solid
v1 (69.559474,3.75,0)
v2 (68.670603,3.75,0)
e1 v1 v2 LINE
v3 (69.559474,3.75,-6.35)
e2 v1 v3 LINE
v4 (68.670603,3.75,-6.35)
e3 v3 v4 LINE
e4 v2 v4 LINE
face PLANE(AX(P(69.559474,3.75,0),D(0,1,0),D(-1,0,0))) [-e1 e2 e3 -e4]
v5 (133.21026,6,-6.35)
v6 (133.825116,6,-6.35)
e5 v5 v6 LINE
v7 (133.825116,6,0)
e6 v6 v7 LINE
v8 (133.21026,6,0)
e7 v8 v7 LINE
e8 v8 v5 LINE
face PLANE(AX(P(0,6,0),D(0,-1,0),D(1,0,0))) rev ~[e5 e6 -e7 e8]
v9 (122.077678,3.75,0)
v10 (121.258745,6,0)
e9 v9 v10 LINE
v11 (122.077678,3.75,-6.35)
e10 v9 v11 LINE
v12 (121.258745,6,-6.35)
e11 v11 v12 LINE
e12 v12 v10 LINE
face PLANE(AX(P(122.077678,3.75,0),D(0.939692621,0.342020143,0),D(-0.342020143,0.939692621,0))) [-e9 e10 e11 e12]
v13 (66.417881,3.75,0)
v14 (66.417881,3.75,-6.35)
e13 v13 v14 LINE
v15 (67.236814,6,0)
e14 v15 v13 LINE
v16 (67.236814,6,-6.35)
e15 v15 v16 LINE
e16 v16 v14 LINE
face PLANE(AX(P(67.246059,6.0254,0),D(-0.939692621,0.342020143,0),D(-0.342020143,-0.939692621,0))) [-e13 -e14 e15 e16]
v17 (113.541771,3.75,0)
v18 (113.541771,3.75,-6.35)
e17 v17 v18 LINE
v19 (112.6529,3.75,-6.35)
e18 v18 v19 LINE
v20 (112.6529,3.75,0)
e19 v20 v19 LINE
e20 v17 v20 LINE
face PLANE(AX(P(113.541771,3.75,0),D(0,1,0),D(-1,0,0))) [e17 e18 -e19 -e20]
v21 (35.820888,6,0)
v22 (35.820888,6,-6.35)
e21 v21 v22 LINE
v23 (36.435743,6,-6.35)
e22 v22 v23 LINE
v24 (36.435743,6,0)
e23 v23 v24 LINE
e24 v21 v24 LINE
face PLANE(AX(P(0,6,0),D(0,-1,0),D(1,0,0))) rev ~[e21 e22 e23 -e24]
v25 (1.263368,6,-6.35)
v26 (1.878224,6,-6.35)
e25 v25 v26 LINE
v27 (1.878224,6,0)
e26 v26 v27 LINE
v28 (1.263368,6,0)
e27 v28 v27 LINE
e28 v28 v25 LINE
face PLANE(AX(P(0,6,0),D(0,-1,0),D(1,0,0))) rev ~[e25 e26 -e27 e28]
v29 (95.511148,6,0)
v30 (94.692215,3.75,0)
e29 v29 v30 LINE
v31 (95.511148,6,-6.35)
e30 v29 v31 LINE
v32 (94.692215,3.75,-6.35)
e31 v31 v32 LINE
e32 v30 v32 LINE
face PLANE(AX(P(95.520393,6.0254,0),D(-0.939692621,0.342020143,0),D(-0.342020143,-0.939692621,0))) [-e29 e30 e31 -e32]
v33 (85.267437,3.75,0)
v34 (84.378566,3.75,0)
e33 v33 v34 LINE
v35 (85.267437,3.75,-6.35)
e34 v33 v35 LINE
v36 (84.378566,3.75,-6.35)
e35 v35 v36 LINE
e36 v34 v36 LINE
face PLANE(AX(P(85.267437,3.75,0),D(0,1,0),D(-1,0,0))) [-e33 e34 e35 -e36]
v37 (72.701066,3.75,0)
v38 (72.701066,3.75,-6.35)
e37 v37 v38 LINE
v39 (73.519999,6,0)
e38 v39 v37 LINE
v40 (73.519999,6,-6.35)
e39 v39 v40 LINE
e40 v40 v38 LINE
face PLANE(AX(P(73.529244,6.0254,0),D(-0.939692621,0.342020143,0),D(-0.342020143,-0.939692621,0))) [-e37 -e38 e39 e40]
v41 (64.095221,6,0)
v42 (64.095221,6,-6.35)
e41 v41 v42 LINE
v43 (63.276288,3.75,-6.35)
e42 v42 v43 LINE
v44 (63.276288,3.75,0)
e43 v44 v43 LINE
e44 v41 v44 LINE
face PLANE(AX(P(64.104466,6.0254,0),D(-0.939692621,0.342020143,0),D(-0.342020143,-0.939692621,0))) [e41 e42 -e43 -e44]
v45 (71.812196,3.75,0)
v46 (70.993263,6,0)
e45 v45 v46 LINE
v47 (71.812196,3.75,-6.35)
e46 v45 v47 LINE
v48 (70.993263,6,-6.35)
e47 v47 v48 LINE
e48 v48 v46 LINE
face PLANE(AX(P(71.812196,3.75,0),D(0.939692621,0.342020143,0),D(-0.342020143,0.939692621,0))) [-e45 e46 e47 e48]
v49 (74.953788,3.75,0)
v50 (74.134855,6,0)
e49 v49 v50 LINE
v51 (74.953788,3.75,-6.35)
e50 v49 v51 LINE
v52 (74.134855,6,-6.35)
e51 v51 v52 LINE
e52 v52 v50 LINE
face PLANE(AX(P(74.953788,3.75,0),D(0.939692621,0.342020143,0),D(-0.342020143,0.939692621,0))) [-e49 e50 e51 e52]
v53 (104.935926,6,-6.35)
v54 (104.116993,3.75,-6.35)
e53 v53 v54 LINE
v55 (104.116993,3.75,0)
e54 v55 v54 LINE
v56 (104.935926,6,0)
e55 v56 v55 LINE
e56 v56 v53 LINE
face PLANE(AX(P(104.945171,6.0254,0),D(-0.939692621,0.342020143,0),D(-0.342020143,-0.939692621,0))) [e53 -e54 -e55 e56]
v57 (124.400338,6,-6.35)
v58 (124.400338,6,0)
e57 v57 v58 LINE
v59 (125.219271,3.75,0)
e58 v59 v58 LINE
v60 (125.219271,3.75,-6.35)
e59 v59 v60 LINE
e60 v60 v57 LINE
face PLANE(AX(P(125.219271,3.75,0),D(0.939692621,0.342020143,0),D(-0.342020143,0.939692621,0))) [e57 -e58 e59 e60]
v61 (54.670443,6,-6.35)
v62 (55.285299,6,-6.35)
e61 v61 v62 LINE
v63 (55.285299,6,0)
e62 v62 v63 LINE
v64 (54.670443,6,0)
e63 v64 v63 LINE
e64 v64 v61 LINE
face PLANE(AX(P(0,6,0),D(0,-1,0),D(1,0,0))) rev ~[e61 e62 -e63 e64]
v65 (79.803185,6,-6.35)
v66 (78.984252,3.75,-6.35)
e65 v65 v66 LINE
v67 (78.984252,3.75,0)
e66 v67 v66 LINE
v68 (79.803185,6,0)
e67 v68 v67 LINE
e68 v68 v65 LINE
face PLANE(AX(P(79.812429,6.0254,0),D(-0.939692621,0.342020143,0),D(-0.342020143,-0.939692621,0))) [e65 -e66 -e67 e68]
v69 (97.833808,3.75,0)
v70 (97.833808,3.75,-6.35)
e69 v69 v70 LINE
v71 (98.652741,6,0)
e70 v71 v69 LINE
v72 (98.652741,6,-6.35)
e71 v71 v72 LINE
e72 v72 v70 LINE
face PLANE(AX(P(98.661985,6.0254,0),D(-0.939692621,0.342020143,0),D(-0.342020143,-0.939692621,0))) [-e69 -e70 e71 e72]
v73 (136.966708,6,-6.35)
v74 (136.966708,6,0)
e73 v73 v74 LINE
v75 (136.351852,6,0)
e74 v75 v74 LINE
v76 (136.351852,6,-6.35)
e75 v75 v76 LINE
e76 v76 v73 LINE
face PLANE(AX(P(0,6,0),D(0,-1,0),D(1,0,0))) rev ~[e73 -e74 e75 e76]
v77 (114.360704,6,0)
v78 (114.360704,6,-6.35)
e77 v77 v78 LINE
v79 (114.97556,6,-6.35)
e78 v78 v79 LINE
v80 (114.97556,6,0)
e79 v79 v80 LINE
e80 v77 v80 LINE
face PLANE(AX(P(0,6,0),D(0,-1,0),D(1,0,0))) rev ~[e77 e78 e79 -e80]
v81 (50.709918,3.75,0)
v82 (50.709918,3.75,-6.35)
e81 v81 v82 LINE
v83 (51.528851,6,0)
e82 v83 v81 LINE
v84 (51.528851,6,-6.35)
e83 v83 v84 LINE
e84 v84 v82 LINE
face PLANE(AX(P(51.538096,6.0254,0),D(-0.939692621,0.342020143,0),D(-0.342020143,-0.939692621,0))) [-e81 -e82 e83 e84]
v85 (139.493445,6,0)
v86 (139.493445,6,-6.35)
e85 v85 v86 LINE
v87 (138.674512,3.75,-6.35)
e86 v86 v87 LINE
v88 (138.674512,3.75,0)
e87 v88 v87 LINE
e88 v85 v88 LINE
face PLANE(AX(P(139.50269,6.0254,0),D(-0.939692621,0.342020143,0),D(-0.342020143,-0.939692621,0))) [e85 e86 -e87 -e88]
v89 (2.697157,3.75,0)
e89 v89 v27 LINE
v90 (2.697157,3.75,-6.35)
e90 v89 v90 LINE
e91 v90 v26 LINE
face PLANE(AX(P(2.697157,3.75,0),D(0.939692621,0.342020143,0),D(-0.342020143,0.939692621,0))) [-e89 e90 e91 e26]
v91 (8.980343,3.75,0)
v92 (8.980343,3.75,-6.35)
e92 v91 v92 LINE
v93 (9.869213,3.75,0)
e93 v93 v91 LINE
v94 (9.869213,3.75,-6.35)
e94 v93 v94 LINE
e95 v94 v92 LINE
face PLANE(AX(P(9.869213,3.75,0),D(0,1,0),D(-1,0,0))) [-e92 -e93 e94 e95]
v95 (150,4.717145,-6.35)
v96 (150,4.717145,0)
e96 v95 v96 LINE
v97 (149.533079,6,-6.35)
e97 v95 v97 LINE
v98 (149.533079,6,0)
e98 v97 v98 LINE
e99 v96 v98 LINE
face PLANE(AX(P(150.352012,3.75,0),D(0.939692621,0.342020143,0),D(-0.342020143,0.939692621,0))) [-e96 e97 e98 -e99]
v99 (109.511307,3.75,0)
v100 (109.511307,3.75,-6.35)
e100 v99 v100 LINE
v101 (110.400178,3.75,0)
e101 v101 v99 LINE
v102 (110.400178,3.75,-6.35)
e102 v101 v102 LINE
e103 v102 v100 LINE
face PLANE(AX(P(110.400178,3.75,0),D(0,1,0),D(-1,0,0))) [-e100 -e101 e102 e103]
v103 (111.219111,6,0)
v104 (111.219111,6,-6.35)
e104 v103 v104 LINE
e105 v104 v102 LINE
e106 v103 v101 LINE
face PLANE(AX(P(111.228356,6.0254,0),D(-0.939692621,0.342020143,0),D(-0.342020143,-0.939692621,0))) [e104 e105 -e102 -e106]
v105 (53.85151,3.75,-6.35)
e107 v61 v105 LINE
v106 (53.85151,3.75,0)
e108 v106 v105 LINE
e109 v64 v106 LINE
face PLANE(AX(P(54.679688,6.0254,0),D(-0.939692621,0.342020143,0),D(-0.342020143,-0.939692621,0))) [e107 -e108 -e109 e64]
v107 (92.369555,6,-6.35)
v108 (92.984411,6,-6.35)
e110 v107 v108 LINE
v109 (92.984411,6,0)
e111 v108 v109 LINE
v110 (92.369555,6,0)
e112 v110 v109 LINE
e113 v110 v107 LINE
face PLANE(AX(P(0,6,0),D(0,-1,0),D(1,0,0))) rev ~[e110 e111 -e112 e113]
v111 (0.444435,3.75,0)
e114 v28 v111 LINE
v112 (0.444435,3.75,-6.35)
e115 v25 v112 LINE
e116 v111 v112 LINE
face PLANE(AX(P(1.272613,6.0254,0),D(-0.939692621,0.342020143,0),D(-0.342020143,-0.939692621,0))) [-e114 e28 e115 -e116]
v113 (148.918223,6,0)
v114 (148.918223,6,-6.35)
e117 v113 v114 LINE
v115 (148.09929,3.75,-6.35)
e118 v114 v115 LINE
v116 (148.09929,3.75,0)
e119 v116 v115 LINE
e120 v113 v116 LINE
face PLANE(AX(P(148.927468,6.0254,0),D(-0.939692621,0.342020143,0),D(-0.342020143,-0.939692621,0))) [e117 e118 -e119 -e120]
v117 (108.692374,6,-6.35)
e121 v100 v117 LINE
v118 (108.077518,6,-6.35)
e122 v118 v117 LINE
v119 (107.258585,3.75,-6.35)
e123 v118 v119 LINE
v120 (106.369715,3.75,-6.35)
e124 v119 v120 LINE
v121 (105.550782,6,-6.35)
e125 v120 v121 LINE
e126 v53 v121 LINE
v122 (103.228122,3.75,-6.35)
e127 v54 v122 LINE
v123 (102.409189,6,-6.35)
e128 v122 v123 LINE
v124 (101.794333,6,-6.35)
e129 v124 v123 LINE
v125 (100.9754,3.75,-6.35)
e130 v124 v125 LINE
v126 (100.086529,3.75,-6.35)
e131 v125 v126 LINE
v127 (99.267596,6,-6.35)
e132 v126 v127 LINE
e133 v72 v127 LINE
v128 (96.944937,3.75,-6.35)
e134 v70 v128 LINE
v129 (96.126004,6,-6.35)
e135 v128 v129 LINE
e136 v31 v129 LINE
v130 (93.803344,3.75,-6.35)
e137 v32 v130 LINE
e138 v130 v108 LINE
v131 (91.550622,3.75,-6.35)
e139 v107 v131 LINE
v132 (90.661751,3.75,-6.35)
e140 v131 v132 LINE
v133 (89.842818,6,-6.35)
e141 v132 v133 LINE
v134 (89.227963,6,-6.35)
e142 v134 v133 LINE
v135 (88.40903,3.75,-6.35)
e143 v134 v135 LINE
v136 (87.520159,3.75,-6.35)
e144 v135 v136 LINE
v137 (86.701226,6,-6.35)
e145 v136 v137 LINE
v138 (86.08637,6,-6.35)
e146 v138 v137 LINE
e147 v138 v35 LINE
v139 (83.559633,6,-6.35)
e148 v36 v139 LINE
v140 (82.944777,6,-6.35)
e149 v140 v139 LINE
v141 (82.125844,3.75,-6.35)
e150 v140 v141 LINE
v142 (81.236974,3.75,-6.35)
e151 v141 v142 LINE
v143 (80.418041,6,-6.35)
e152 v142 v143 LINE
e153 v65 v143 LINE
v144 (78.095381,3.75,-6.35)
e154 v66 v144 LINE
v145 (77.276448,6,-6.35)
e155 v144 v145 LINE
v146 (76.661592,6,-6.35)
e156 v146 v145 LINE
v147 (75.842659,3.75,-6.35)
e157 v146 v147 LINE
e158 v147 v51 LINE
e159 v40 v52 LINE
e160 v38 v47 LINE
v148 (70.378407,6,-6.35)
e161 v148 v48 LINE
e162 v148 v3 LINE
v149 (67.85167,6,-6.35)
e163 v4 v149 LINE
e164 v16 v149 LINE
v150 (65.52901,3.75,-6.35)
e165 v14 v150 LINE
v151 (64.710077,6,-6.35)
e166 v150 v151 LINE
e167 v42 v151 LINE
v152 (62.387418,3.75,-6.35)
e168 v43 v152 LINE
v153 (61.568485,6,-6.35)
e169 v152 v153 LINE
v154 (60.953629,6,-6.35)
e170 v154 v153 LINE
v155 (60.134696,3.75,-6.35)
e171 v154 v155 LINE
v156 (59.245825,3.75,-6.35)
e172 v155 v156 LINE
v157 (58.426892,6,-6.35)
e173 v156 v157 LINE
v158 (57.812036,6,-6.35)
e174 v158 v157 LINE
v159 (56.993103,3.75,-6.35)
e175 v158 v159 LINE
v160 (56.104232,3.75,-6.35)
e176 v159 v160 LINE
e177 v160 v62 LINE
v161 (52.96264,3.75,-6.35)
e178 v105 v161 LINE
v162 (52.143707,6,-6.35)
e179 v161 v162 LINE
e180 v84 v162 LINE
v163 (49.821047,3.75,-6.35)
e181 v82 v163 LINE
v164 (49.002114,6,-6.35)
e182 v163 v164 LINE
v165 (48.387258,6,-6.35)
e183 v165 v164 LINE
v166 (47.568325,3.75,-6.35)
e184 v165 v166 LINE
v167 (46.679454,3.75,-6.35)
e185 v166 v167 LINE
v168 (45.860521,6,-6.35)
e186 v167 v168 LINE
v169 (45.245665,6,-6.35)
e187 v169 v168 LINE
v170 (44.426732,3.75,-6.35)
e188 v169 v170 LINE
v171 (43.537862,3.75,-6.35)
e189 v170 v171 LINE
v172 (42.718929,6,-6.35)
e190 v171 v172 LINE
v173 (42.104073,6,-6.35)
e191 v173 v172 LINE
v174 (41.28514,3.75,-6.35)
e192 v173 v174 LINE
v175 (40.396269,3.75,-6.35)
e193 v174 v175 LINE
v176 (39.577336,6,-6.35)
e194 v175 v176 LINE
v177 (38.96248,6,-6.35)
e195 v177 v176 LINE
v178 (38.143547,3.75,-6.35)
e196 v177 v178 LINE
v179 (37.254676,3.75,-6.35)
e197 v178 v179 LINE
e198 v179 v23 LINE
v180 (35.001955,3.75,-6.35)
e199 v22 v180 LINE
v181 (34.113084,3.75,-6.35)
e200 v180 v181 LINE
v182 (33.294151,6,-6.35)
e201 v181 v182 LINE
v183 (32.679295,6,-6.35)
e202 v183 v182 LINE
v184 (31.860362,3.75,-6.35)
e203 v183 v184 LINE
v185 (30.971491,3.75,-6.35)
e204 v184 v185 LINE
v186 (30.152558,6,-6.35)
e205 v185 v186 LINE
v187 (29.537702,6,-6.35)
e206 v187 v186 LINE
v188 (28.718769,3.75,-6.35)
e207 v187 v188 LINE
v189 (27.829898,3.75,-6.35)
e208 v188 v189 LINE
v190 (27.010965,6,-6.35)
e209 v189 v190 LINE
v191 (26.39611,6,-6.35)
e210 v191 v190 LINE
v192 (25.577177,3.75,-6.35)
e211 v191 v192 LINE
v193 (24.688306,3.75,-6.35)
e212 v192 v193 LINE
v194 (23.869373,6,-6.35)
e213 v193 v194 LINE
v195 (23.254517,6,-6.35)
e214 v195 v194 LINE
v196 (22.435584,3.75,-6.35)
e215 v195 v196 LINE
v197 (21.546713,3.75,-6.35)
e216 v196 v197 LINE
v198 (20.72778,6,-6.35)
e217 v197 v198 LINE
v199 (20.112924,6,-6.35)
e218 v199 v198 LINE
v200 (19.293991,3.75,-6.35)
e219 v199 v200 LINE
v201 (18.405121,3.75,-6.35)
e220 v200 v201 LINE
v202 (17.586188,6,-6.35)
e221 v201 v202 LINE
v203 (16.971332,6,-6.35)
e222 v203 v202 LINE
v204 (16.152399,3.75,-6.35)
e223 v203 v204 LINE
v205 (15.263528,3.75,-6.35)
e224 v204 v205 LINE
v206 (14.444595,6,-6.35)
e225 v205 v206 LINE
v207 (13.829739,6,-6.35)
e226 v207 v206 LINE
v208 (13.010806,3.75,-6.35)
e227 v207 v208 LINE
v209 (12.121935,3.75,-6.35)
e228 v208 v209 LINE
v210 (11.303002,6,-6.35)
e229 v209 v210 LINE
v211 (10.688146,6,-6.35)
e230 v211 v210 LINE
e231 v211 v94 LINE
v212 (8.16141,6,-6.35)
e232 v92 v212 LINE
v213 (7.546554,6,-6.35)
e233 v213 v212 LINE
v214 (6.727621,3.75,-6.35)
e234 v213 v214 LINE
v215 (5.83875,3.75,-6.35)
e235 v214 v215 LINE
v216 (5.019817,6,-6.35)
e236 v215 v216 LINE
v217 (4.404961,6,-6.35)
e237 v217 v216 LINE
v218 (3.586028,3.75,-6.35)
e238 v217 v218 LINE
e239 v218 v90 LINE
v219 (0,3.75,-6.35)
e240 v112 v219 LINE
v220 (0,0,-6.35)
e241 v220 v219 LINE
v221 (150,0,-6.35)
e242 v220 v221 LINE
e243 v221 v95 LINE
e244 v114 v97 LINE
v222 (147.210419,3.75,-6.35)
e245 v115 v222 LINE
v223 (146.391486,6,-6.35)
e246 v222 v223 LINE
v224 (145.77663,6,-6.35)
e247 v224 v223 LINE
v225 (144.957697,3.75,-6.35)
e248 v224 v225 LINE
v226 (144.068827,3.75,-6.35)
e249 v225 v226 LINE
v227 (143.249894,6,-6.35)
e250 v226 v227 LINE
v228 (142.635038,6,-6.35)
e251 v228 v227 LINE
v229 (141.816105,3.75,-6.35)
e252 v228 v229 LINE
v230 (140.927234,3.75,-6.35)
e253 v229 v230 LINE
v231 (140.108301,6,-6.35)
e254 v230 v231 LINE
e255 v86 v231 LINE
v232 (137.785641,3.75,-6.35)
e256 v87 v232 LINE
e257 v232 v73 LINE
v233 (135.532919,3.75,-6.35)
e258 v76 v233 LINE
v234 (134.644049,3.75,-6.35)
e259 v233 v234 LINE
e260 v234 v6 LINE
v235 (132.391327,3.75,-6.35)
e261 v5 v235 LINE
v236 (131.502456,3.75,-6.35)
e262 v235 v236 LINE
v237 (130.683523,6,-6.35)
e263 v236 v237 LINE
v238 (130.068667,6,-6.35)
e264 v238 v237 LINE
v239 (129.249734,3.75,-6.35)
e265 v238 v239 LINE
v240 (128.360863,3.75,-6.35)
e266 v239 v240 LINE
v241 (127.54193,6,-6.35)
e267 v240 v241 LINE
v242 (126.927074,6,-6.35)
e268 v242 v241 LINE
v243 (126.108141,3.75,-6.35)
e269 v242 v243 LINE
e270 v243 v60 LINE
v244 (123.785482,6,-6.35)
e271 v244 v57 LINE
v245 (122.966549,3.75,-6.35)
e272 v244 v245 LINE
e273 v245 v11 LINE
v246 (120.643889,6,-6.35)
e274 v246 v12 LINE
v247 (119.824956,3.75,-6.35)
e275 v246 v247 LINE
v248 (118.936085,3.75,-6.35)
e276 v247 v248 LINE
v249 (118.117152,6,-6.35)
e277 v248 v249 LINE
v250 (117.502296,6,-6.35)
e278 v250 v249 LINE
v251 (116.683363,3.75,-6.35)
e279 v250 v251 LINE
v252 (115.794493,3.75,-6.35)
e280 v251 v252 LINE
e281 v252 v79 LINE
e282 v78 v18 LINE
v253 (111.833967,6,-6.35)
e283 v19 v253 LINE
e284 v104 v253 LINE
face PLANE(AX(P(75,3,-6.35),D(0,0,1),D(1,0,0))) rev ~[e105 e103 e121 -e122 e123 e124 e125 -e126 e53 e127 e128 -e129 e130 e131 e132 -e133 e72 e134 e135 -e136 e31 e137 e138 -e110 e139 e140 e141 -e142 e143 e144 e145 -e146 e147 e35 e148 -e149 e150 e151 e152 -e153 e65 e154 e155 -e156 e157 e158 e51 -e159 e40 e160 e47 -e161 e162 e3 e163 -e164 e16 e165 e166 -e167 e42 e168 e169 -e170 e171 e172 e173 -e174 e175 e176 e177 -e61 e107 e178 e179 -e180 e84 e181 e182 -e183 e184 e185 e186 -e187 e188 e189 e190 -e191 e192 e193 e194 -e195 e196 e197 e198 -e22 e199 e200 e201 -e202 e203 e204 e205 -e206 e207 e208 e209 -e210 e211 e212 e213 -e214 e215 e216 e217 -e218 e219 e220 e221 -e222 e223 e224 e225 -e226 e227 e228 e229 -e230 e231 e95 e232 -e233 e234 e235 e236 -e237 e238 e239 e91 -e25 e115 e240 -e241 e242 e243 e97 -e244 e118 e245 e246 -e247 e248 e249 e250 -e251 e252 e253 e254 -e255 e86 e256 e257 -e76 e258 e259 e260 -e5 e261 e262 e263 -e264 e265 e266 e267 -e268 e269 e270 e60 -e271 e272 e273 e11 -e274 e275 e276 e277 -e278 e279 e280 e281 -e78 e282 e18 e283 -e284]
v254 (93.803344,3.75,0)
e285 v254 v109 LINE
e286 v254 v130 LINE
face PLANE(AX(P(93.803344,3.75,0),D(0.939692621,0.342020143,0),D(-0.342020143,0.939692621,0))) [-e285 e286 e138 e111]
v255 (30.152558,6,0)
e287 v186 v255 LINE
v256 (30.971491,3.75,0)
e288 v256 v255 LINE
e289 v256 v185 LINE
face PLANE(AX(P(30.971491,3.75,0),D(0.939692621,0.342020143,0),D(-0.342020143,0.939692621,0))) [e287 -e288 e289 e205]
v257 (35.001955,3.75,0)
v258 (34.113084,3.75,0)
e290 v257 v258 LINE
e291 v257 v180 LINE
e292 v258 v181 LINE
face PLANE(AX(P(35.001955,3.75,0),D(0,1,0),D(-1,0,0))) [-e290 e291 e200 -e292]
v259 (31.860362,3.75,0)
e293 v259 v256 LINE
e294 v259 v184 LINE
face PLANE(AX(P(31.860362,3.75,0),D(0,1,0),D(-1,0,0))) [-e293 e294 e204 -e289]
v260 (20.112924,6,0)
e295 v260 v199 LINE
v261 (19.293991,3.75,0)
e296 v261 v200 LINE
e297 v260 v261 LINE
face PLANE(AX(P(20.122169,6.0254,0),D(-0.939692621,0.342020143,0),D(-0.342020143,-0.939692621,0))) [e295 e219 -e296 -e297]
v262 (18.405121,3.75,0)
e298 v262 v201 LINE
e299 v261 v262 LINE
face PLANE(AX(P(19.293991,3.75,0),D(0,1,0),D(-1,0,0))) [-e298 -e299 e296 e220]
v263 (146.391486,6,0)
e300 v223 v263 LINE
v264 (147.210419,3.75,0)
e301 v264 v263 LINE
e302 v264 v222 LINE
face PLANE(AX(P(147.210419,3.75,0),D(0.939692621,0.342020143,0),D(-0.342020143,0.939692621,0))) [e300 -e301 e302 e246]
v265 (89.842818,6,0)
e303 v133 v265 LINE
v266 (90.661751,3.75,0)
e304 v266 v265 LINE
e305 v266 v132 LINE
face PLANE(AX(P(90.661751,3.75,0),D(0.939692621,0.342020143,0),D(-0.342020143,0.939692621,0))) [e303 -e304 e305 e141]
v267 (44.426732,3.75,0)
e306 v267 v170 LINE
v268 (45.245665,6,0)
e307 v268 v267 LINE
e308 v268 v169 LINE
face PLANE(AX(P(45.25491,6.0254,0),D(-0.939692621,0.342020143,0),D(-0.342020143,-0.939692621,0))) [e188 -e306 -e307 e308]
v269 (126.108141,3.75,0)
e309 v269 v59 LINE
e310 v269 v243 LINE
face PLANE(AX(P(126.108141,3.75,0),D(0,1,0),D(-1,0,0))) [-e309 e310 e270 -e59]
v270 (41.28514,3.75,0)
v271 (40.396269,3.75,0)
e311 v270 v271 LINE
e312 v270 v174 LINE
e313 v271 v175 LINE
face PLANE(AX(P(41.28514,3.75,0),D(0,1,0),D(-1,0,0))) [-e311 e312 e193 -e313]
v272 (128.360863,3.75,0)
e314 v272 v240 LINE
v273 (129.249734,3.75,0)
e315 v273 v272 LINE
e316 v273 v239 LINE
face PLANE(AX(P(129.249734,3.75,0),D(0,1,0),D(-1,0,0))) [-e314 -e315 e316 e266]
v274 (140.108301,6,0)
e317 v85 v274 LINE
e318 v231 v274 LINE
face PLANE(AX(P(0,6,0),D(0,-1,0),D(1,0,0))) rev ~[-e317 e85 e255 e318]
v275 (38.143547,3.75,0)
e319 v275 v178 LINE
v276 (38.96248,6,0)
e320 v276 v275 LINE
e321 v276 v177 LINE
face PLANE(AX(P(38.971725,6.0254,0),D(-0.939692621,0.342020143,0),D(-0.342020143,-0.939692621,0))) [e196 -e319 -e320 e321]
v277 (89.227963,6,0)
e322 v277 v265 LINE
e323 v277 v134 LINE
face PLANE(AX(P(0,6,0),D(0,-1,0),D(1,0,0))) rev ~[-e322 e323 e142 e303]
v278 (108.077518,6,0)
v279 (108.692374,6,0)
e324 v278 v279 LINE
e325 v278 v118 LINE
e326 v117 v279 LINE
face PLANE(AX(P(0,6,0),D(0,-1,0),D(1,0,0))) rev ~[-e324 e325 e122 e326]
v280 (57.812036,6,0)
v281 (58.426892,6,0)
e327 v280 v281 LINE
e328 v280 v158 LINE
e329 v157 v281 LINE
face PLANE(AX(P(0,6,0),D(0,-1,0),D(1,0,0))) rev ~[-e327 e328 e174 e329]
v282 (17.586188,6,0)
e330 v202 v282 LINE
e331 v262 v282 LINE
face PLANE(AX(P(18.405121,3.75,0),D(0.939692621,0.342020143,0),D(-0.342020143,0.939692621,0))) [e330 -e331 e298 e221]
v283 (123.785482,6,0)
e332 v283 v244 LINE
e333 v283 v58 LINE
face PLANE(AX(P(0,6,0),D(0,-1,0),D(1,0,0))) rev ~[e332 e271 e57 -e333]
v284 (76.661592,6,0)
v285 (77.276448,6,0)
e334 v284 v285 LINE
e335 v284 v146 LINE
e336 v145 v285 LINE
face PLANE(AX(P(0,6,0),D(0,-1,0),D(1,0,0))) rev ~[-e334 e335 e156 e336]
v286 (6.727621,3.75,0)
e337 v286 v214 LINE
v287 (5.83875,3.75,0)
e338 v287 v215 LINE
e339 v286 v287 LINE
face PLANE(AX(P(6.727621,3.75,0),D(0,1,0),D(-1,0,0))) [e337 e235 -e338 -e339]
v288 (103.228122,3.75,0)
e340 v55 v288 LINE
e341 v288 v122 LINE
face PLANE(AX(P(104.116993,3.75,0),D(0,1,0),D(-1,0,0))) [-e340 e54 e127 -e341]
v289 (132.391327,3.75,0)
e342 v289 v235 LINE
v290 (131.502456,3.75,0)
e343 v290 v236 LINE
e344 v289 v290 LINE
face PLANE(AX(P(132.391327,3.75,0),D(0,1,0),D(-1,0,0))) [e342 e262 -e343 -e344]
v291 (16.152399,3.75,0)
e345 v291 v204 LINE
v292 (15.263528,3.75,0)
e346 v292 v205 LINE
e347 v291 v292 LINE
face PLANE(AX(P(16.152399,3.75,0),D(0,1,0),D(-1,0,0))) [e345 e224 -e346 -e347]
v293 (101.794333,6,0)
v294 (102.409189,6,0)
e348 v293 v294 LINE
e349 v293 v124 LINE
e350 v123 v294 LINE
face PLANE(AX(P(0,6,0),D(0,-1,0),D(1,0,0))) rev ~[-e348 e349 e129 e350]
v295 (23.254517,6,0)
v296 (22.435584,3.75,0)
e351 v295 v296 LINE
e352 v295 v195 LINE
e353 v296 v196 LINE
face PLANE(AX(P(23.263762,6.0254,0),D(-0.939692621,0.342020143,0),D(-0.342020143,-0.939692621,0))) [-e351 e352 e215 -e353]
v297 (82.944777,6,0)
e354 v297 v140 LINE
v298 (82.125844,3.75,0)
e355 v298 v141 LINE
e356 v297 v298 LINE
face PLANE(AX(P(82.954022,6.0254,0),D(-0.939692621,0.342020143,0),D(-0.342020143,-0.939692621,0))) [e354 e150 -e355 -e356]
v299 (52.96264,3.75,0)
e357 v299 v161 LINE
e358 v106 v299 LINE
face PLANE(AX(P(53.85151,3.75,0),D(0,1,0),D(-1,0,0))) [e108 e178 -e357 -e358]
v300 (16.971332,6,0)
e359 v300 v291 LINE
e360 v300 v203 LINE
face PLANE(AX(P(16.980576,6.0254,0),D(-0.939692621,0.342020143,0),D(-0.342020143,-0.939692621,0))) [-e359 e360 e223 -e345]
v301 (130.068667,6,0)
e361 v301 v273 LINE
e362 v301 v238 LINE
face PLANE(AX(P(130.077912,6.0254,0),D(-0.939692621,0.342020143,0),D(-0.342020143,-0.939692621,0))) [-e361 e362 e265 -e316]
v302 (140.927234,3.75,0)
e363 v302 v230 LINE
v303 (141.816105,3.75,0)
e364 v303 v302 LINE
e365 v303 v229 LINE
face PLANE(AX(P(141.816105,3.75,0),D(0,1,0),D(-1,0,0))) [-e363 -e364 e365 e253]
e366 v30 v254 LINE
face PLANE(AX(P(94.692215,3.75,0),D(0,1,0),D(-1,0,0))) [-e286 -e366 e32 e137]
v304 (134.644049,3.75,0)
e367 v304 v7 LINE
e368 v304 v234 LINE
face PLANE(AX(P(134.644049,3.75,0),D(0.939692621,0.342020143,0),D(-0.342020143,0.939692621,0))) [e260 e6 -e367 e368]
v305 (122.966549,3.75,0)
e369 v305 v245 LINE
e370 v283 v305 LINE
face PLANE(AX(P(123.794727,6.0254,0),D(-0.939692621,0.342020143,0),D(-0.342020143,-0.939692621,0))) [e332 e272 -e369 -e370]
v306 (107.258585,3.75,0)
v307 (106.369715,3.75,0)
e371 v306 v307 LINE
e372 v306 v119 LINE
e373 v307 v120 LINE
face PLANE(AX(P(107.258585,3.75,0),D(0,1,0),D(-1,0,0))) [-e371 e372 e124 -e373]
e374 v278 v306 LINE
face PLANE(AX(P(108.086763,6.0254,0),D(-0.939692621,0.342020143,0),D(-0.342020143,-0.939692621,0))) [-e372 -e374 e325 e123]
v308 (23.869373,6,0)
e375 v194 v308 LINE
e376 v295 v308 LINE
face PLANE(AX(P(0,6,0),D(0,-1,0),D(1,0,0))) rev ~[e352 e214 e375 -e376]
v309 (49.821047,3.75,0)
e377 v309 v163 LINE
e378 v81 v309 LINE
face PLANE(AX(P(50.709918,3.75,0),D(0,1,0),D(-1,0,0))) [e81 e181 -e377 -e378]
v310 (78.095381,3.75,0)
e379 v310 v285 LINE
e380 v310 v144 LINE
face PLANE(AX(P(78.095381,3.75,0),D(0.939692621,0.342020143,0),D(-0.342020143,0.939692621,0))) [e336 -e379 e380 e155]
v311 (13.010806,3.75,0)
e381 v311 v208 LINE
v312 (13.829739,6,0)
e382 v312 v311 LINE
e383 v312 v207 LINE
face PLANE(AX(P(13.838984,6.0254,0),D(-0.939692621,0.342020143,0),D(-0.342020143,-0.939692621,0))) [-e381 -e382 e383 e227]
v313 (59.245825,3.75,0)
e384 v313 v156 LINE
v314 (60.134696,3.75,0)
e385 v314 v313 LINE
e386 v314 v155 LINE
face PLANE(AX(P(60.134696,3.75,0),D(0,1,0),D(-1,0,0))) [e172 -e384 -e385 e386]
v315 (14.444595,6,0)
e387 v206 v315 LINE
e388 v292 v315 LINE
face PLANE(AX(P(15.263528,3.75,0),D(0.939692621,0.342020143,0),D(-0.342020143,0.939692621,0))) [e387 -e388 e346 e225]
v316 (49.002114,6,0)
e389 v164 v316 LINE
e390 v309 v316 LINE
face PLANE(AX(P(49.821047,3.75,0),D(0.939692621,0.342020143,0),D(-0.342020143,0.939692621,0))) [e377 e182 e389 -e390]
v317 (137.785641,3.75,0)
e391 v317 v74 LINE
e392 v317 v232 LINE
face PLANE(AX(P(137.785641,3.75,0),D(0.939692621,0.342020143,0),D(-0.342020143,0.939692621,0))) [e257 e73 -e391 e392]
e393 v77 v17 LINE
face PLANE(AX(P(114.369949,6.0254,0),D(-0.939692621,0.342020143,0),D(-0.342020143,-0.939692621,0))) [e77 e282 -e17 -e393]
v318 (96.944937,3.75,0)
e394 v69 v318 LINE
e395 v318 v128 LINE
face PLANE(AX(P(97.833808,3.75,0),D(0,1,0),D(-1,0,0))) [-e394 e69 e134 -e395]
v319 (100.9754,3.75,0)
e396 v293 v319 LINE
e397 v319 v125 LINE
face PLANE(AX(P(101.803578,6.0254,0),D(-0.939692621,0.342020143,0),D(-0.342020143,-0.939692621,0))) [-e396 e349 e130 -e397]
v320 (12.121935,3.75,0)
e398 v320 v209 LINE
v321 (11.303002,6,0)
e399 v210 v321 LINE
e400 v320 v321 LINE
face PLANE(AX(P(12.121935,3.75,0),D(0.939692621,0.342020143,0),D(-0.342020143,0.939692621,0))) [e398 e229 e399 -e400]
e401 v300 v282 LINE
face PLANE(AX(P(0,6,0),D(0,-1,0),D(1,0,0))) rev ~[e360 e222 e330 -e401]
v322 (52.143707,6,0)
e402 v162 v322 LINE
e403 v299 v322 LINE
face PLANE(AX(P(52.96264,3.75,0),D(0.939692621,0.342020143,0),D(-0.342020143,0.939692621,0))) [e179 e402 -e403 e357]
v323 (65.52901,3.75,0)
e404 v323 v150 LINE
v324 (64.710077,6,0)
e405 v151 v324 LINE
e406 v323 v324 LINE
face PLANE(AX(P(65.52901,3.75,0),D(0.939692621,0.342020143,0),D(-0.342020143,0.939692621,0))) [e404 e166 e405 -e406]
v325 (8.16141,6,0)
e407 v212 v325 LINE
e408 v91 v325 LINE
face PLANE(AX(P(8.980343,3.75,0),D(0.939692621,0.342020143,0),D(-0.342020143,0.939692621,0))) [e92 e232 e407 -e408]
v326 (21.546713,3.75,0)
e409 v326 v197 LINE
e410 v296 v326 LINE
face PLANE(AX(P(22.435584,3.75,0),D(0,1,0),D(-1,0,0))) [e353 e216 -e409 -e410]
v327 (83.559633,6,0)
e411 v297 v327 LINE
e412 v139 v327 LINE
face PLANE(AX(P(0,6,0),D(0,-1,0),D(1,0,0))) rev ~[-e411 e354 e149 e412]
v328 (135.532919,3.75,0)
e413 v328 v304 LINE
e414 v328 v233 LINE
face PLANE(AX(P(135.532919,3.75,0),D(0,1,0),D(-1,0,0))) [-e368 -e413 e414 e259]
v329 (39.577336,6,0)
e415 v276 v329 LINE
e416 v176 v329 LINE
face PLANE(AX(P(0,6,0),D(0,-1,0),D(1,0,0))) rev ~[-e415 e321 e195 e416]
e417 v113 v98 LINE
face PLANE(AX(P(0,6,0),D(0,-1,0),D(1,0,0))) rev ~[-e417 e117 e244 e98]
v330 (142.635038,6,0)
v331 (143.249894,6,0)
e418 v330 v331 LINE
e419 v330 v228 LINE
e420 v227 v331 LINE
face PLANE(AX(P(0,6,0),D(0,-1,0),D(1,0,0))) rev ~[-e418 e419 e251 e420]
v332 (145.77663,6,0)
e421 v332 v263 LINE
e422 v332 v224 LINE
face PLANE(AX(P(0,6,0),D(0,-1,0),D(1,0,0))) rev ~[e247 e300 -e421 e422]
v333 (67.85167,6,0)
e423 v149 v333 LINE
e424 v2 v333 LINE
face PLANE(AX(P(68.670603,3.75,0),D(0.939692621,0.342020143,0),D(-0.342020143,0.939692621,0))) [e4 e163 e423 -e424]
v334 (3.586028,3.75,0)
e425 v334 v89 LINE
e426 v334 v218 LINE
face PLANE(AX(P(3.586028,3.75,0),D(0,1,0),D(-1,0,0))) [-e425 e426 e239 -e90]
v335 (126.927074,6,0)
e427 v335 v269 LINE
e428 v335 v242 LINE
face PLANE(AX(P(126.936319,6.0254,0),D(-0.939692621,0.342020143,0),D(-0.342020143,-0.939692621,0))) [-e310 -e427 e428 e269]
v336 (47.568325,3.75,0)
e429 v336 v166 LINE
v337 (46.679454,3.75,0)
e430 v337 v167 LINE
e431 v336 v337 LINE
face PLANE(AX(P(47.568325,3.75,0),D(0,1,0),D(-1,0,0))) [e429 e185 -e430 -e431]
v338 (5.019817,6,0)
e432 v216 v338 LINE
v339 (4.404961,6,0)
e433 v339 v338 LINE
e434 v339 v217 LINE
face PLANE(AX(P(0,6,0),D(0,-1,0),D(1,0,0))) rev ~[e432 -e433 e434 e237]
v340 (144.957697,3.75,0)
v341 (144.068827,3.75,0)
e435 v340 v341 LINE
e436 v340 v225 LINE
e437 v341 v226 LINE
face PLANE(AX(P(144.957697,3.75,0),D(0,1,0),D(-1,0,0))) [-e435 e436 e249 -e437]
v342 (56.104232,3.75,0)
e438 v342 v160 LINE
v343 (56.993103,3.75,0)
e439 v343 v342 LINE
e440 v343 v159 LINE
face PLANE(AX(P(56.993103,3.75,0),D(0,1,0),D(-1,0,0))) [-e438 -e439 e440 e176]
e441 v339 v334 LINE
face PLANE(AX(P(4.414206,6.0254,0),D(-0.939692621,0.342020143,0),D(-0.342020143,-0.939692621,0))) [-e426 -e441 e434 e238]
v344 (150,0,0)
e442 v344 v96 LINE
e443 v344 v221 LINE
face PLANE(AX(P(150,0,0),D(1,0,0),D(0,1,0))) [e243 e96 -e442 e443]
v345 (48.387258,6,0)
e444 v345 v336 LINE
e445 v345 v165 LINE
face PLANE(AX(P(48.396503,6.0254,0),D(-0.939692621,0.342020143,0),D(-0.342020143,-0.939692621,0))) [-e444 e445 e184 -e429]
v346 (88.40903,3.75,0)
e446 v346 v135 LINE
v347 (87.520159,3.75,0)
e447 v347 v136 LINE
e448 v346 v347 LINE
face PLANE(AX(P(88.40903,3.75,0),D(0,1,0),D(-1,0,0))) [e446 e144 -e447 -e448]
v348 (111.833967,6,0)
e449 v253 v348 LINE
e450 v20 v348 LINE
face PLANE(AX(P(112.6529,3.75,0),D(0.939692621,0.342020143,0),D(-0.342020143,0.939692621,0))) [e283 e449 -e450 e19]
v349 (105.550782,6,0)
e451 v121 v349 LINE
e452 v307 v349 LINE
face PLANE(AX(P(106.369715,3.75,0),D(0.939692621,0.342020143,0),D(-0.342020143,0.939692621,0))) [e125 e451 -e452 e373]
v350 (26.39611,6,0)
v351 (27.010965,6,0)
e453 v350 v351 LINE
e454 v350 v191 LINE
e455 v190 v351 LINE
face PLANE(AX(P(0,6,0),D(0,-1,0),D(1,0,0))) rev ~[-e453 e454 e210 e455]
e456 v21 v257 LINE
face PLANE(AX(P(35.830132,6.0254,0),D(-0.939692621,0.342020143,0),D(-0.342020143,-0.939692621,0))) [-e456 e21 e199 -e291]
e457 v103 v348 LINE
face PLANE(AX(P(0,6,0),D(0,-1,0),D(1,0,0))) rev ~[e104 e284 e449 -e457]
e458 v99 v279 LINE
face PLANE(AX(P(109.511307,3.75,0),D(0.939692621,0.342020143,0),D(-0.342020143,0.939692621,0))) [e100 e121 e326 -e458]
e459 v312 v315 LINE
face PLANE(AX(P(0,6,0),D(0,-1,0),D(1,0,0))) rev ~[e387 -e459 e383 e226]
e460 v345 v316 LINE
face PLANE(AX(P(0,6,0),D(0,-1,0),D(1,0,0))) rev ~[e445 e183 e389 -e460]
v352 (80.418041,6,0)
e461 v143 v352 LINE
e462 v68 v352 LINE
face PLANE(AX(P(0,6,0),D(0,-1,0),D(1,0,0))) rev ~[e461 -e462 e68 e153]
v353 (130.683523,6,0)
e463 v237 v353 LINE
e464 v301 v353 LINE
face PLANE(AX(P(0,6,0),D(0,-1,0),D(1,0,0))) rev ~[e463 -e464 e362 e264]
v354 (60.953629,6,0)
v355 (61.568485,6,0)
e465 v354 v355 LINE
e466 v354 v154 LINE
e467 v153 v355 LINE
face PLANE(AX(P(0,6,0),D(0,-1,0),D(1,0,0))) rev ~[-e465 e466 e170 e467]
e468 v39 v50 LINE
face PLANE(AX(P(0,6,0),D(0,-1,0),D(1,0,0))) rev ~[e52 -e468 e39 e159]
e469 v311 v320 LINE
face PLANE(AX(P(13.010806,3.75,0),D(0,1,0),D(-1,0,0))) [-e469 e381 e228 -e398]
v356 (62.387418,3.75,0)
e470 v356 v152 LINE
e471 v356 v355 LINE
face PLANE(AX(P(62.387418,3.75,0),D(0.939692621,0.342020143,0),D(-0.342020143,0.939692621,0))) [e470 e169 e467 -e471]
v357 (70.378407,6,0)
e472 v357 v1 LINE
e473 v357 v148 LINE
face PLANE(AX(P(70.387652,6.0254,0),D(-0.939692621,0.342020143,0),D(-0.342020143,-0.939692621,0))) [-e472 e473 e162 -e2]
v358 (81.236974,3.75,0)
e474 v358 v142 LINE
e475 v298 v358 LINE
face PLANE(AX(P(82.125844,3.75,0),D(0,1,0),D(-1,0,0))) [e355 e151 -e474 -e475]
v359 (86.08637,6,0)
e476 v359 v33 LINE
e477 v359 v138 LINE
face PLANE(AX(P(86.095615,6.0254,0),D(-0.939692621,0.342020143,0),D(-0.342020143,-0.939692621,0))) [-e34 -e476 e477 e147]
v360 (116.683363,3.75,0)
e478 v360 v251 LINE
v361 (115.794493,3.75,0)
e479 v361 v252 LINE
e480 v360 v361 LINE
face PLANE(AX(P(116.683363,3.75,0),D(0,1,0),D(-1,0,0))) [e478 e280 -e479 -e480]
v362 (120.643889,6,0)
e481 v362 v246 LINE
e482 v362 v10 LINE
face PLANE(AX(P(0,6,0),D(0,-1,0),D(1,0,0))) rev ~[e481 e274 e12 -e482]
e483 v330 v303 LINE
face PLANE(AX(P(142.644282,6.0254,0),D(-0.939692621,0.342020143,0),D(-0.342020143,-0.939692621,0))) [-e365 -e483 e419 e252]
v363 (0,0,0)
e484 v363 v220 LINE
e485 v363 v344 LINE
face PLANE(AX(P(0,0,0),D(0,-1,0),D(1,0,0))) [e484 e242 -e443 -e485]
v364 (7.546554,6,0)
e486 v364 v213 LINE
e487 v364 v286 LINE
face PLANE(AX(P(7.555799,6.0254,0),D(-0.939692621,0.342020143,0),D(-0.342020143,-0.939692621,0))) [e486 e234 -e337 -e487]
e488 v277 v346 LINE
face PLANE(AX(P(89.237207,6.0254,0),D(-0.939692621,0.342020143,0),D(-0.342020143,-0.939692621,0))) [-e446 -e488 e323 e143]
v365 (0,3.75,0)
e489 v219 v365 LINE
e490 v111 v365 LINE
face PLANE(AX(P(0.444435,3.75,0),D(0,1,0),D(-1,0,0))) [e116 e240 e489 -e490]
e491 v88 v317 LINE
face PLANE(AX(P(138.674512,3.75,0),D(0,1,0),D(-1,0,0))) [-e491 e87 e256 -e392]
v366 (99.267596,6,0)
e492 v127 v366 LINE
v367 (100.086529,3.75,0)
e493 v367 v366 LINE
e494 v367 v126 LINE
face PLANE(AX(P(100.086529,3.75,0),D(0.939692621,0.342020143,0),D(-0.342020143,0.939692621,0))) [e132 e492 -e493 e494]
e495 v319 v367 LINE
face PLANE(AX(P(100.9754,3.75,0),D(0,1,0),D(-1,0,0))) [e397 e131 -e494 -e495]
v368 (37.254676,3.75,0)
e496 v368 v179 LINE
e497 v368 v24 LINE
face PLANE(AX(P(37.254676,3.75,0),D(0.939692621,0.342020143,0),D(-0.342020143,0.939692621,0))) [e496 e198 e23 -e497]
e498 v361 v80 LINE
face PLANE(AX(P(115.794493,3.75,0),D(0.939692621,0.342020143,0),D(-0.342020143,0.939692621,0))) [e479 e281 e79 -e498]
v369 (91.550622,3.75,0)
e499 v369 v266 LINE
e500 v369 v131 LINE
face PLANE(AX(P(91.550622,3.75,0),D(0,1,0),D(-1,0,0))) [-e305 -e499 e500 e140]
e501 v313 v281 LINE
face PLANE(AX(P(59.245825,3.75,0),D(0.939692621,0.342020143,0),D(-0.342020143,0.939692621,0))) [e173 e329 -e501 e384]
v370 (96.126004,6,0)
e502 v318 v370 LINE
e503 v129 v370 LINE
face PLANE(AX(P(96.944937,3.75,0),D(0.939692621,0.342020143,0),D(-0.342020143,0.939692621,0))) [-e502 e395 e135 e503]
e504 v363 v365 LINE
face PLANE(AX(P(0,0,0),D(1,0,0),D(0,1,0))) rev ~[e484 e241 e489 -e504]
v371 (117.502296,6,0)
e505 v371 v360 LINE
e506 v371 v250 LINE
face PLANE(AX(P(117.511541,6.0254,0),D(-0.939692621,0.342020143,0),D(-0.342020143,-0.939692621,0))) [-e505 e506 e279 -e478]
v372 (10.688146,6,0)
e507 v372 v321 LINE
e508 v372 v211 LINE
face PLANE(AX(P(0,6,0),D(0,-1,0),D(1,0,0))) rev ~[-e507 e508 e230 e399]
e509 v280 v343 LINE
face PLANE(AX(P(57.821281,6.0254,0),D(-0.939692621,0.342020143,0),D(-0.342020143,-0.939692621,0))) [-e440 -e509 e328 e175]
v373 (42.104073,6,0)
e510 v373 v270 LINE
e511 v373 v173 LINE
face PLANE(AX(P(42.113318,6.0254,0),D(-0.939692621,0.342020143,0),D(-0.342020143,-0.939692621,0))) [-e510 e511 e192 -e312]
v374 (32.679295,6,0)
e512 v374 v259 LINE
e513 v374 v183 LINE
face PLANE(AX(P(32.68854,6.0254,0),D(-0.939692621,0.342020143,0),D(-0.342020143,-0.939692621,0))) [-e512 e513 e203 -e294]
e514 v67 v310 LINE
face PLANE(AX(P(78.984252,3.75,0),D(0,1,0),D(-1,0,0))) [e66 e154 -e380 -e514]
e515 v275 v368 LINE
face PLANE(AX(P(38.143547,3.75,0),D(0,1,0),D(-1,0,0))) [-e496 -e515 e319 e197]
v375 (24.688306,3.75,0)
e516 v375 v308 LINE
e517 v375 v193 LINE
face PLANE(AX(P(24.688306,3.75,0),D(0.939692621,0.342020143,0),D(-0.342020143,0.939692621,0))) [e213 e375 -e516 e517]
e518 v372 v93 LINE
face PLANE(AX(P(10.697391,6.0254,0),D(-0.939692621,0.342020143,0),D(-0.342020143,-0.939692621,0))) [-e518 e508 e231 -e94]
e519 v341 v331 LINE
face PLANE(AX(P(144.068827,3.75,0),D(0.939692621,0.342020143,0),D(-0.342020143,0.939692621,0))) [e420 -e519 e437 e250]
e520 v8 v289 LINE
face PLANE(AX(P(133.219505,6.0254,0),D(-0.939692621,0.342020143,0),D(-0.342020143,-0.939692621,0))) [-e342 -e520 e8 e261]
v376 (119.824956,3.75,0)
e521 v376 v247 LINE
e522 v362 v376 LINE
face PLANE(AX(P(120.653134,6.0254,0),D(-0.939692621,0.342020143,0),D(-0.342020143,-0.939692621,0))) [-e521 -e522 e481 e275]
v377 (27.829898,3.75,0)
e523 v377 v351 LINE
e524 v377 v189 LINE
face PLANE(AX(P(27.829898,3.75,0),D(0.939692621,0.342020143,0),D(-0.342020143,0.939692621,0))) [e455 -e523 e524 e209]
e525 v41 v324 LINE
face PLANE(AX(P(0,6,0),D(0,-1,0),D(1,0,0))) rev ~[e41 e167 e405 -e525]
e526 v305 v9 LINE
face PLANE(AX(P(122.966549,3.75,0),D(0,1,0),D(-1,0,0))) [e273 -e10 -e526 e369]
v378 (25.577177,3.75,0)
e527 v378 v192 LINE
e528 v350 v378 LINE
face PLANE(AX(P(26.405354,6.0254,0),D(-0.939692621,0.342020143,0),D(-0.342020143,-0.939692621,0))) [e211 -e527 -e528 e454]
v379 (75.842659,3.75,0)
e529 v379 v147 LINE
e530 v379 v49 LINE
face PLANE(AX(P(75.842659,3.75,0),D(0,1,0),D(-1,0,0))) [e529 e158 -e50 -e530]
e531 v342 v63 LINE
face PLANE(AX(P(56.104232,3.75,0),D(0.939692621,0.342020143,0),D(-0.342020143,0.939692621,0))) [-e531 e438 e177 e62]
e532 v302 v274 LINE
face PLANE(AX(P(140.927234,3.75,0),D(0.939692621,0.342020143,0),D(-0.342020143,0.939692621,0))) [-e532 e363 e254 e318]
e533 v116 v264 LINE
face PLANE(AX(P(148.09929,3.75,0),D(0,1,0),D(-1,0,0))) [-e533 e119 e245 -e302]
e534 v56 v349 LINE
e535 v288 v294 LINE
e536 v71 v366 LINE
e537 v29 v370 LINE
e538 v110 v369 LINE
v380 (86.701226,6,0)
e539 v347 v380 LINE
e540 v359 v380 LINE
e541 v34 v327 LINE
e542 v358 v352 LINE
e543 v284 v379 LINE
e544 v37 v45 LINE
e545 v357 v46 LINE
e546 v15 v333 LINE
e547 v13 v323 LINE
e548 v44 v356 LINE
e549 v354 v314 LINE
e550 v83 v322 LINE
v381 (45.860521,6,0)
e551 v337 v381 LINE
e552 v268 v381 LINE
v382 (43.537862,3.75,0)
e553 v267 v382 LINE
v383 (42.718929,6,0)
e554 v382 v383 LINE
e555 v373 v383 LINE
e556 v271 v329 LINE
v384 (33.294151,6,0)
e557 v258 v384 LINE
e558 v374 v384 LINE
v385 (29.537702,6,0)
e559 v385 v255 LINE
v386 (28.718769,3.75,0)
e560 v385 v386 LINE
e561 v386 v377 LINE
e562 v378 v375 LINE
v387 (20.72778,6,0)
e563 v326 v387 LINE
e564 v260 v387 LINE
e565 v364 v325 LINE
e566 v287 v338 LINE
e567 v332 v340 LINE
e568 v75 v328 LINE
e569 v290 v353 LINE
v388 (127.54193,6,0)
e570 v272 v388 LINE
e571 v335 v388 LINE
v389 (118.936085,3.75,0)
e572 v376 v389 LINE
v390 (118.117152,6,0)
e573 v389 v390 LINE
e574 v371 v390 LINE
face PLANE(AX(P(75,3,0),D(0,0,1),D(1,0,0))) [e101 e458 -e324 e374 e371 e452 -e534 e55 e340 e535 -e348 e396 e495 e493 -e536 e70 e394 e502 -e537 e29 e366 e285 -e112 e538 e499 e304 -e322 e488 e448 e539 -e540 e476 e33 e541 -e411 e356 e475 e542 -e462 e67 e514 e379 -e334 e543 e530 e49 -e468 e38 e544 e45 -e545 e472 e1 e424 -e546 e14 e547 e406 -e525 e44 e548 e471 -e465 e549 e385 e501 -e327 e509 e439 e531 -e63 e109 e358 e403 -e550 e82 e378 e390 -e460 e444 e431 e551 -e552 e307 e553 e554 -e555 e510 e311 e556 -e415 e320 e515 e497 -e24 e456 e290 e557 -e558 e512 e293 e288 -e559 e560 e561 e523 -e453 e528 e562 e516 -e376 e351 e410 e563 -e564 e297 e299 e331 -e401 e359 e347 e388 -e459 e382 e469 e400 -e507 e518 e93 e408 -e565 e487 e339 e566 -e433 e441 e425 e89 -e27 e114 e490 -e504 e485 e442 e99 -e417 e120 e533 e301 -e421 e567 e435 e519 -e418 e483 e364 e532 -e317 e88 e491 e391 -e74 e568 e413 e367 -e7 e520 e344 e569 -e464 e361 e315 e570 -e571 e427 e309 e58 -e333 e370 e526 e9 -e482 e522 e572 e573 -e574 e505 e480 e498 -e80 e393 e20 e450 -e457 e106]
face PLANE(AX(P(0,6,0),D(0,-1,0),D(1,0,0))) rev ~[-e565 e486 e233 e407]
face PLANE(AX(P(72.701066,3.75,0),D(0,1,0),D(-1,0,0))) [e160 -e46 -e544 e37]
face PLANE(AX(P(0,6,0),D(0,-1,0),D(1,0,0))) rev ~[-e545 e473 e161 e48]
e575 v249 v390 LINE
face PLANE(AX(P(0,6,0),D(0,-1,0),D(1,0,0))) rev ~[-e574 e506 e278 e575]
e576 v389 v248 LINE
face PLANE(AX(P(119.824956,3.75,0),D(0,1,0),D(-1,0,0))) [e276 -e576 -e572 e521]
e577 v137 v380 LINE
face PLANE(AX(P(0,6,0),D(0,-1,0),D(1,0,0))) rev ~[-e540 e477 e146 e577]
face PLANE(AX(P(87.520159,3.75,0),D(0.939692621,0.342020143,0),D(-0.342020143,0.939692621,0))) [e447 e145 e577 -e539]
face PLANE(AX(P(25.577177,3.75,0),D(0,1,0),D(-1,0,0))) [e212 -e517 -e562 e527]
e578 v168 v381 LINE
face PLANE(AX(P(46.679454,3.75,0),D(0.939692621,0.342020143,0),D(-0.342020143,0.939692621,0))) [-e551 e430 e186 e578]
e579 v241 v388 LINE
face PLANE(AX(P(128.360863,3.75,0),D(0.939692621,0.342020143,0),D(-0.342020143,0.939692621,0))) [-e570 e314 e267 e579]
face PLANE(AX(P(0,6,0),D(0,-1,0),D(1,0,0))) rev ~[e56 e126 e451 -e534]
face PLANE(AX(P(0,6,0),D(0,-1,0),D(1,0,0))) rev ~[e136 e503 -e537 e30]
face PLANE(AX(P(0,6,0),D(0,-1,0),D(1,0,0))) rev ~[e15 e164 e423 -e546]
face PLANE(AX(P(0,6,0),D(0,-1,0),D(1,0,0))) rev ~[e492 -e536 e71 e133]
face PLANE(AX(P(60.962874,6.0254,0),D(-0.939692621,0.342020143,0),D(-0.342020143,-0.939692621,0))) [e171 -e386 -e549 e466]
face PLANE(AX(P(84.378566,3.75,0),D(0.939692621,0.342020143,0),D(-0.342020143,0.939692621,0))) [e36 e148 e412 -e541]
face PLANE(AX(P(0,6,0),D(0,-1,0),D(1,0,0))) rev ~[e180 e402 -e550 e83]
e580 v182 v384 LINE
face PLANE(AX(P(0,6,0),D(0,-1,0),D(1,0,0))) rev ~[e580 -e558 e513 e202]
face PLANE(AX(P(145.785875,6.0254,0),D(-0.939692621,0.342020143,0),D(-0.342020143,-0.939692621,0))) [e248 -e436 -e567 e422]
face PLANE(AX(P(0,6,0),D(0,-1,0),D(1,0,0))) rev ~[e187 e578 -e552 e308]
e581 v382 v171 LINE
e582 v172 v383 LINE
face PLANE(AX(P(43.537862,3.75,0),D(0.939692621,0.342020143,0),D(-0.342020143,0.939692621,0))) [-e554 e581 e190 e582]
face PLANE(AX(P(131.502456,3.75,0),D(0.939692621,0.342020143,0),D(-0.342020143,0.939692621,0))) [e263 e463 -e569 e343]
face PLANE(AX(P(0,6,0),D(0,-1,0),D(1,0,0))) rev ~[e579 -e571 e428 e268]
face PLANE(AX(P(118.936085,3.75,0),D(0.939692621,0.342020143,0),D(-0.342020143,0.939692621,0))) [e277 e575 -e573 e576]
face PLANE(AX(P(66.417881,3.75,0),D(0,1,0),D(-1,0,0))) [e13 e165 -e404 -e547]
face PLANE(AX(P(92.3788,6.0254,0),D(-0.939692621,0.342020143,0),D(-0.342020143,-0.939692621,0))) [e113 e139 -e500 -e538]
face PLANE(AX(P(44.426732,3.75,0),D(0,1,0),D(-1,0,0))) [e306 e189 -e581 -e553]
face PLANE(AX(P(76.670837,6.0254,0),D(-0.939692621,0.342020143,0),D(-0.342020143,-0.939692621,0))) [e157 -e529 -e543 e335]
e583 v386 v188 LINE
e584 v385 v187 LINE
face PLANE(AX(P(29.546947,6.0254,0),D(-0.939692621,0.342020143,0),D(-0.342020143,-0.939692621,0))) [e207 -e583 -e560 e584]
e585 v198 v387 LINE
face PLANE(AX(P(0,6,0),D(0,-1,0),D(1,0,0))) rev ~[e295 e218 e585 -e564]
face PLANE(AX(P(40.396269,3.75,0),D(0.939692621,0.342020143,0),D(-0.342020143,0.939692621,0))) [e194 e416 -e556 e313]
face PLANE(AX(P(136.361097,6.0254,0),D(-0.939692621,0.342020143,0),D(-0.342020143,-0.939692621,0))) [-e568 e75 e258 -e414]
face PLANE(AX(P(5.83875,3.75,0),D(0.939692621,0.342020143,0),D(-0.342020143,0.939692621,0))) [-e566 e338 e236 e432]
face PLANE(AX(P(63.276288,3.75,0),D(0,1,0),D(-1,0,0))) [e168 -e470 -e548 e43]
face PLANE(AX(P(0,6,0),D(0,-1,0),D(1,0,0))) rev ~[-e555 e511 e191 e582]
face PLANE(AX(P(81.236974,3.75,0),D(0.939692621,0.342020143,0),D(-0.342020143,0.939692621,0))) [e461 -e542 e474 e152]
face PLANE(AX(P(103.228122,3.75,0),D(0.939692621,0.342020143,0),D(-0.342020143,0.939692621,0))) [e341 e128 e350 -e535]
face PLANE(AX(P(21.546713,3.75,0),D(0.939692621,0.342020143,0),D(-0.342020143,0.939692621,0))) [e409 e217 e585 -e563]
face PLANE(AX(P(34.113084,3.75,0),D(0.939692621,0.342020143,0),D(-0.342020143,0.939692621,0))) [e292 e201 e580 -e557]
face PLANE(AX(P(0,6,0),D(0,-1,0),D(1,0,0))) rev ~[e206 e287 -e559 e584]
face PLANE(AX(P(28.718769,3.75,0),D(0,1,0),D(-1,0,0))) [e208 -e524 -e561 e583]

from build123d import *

# Parameters (mm, degrees)
BLANKSKE_W        = 150
BLANKSKE_H        = 6
BLANK_DEPTH       = 6.35
TOOTHCUTSIM_DEPTH = 151.254192953
TEETHCUTS_COUNT   = 49
TEETHCUTS_PITCH   = 3.14159265


with BuildPart() as part:
    # BlankSke → Blank (new body)
    with BuildSketch(Plane.XY):
        with Locations((75, 3)):
            Rectangle(BLANKSKE_W, BLANKSKE_H)
    extrude(amount=-BLANK_DEPTH)

    # TooCutSkeSim → ToothCutSim (cut, through all)
    with BuildSketch(Plane.XY):
        Polygon((0.44443537, 3.75), (-0.44443537, 3.75), (-1.272613241, 6.0254), (1.272613241, 6.0254), align=None)
    toothcutsim = extrude(amount=-TOOTHCUTSIM_DEPTH, mode=Mode.SUBTRACT)

    # TeethCuts: ToothCutSim ×49
    with Locations(*[(i * TEETHCUTS_PITCH, 0, 0) for i in range(1, TEETHCUTS_COUNT)]):
        add(toothcutsim, mode=Mode.SUBTRACT)


solid = part.part
